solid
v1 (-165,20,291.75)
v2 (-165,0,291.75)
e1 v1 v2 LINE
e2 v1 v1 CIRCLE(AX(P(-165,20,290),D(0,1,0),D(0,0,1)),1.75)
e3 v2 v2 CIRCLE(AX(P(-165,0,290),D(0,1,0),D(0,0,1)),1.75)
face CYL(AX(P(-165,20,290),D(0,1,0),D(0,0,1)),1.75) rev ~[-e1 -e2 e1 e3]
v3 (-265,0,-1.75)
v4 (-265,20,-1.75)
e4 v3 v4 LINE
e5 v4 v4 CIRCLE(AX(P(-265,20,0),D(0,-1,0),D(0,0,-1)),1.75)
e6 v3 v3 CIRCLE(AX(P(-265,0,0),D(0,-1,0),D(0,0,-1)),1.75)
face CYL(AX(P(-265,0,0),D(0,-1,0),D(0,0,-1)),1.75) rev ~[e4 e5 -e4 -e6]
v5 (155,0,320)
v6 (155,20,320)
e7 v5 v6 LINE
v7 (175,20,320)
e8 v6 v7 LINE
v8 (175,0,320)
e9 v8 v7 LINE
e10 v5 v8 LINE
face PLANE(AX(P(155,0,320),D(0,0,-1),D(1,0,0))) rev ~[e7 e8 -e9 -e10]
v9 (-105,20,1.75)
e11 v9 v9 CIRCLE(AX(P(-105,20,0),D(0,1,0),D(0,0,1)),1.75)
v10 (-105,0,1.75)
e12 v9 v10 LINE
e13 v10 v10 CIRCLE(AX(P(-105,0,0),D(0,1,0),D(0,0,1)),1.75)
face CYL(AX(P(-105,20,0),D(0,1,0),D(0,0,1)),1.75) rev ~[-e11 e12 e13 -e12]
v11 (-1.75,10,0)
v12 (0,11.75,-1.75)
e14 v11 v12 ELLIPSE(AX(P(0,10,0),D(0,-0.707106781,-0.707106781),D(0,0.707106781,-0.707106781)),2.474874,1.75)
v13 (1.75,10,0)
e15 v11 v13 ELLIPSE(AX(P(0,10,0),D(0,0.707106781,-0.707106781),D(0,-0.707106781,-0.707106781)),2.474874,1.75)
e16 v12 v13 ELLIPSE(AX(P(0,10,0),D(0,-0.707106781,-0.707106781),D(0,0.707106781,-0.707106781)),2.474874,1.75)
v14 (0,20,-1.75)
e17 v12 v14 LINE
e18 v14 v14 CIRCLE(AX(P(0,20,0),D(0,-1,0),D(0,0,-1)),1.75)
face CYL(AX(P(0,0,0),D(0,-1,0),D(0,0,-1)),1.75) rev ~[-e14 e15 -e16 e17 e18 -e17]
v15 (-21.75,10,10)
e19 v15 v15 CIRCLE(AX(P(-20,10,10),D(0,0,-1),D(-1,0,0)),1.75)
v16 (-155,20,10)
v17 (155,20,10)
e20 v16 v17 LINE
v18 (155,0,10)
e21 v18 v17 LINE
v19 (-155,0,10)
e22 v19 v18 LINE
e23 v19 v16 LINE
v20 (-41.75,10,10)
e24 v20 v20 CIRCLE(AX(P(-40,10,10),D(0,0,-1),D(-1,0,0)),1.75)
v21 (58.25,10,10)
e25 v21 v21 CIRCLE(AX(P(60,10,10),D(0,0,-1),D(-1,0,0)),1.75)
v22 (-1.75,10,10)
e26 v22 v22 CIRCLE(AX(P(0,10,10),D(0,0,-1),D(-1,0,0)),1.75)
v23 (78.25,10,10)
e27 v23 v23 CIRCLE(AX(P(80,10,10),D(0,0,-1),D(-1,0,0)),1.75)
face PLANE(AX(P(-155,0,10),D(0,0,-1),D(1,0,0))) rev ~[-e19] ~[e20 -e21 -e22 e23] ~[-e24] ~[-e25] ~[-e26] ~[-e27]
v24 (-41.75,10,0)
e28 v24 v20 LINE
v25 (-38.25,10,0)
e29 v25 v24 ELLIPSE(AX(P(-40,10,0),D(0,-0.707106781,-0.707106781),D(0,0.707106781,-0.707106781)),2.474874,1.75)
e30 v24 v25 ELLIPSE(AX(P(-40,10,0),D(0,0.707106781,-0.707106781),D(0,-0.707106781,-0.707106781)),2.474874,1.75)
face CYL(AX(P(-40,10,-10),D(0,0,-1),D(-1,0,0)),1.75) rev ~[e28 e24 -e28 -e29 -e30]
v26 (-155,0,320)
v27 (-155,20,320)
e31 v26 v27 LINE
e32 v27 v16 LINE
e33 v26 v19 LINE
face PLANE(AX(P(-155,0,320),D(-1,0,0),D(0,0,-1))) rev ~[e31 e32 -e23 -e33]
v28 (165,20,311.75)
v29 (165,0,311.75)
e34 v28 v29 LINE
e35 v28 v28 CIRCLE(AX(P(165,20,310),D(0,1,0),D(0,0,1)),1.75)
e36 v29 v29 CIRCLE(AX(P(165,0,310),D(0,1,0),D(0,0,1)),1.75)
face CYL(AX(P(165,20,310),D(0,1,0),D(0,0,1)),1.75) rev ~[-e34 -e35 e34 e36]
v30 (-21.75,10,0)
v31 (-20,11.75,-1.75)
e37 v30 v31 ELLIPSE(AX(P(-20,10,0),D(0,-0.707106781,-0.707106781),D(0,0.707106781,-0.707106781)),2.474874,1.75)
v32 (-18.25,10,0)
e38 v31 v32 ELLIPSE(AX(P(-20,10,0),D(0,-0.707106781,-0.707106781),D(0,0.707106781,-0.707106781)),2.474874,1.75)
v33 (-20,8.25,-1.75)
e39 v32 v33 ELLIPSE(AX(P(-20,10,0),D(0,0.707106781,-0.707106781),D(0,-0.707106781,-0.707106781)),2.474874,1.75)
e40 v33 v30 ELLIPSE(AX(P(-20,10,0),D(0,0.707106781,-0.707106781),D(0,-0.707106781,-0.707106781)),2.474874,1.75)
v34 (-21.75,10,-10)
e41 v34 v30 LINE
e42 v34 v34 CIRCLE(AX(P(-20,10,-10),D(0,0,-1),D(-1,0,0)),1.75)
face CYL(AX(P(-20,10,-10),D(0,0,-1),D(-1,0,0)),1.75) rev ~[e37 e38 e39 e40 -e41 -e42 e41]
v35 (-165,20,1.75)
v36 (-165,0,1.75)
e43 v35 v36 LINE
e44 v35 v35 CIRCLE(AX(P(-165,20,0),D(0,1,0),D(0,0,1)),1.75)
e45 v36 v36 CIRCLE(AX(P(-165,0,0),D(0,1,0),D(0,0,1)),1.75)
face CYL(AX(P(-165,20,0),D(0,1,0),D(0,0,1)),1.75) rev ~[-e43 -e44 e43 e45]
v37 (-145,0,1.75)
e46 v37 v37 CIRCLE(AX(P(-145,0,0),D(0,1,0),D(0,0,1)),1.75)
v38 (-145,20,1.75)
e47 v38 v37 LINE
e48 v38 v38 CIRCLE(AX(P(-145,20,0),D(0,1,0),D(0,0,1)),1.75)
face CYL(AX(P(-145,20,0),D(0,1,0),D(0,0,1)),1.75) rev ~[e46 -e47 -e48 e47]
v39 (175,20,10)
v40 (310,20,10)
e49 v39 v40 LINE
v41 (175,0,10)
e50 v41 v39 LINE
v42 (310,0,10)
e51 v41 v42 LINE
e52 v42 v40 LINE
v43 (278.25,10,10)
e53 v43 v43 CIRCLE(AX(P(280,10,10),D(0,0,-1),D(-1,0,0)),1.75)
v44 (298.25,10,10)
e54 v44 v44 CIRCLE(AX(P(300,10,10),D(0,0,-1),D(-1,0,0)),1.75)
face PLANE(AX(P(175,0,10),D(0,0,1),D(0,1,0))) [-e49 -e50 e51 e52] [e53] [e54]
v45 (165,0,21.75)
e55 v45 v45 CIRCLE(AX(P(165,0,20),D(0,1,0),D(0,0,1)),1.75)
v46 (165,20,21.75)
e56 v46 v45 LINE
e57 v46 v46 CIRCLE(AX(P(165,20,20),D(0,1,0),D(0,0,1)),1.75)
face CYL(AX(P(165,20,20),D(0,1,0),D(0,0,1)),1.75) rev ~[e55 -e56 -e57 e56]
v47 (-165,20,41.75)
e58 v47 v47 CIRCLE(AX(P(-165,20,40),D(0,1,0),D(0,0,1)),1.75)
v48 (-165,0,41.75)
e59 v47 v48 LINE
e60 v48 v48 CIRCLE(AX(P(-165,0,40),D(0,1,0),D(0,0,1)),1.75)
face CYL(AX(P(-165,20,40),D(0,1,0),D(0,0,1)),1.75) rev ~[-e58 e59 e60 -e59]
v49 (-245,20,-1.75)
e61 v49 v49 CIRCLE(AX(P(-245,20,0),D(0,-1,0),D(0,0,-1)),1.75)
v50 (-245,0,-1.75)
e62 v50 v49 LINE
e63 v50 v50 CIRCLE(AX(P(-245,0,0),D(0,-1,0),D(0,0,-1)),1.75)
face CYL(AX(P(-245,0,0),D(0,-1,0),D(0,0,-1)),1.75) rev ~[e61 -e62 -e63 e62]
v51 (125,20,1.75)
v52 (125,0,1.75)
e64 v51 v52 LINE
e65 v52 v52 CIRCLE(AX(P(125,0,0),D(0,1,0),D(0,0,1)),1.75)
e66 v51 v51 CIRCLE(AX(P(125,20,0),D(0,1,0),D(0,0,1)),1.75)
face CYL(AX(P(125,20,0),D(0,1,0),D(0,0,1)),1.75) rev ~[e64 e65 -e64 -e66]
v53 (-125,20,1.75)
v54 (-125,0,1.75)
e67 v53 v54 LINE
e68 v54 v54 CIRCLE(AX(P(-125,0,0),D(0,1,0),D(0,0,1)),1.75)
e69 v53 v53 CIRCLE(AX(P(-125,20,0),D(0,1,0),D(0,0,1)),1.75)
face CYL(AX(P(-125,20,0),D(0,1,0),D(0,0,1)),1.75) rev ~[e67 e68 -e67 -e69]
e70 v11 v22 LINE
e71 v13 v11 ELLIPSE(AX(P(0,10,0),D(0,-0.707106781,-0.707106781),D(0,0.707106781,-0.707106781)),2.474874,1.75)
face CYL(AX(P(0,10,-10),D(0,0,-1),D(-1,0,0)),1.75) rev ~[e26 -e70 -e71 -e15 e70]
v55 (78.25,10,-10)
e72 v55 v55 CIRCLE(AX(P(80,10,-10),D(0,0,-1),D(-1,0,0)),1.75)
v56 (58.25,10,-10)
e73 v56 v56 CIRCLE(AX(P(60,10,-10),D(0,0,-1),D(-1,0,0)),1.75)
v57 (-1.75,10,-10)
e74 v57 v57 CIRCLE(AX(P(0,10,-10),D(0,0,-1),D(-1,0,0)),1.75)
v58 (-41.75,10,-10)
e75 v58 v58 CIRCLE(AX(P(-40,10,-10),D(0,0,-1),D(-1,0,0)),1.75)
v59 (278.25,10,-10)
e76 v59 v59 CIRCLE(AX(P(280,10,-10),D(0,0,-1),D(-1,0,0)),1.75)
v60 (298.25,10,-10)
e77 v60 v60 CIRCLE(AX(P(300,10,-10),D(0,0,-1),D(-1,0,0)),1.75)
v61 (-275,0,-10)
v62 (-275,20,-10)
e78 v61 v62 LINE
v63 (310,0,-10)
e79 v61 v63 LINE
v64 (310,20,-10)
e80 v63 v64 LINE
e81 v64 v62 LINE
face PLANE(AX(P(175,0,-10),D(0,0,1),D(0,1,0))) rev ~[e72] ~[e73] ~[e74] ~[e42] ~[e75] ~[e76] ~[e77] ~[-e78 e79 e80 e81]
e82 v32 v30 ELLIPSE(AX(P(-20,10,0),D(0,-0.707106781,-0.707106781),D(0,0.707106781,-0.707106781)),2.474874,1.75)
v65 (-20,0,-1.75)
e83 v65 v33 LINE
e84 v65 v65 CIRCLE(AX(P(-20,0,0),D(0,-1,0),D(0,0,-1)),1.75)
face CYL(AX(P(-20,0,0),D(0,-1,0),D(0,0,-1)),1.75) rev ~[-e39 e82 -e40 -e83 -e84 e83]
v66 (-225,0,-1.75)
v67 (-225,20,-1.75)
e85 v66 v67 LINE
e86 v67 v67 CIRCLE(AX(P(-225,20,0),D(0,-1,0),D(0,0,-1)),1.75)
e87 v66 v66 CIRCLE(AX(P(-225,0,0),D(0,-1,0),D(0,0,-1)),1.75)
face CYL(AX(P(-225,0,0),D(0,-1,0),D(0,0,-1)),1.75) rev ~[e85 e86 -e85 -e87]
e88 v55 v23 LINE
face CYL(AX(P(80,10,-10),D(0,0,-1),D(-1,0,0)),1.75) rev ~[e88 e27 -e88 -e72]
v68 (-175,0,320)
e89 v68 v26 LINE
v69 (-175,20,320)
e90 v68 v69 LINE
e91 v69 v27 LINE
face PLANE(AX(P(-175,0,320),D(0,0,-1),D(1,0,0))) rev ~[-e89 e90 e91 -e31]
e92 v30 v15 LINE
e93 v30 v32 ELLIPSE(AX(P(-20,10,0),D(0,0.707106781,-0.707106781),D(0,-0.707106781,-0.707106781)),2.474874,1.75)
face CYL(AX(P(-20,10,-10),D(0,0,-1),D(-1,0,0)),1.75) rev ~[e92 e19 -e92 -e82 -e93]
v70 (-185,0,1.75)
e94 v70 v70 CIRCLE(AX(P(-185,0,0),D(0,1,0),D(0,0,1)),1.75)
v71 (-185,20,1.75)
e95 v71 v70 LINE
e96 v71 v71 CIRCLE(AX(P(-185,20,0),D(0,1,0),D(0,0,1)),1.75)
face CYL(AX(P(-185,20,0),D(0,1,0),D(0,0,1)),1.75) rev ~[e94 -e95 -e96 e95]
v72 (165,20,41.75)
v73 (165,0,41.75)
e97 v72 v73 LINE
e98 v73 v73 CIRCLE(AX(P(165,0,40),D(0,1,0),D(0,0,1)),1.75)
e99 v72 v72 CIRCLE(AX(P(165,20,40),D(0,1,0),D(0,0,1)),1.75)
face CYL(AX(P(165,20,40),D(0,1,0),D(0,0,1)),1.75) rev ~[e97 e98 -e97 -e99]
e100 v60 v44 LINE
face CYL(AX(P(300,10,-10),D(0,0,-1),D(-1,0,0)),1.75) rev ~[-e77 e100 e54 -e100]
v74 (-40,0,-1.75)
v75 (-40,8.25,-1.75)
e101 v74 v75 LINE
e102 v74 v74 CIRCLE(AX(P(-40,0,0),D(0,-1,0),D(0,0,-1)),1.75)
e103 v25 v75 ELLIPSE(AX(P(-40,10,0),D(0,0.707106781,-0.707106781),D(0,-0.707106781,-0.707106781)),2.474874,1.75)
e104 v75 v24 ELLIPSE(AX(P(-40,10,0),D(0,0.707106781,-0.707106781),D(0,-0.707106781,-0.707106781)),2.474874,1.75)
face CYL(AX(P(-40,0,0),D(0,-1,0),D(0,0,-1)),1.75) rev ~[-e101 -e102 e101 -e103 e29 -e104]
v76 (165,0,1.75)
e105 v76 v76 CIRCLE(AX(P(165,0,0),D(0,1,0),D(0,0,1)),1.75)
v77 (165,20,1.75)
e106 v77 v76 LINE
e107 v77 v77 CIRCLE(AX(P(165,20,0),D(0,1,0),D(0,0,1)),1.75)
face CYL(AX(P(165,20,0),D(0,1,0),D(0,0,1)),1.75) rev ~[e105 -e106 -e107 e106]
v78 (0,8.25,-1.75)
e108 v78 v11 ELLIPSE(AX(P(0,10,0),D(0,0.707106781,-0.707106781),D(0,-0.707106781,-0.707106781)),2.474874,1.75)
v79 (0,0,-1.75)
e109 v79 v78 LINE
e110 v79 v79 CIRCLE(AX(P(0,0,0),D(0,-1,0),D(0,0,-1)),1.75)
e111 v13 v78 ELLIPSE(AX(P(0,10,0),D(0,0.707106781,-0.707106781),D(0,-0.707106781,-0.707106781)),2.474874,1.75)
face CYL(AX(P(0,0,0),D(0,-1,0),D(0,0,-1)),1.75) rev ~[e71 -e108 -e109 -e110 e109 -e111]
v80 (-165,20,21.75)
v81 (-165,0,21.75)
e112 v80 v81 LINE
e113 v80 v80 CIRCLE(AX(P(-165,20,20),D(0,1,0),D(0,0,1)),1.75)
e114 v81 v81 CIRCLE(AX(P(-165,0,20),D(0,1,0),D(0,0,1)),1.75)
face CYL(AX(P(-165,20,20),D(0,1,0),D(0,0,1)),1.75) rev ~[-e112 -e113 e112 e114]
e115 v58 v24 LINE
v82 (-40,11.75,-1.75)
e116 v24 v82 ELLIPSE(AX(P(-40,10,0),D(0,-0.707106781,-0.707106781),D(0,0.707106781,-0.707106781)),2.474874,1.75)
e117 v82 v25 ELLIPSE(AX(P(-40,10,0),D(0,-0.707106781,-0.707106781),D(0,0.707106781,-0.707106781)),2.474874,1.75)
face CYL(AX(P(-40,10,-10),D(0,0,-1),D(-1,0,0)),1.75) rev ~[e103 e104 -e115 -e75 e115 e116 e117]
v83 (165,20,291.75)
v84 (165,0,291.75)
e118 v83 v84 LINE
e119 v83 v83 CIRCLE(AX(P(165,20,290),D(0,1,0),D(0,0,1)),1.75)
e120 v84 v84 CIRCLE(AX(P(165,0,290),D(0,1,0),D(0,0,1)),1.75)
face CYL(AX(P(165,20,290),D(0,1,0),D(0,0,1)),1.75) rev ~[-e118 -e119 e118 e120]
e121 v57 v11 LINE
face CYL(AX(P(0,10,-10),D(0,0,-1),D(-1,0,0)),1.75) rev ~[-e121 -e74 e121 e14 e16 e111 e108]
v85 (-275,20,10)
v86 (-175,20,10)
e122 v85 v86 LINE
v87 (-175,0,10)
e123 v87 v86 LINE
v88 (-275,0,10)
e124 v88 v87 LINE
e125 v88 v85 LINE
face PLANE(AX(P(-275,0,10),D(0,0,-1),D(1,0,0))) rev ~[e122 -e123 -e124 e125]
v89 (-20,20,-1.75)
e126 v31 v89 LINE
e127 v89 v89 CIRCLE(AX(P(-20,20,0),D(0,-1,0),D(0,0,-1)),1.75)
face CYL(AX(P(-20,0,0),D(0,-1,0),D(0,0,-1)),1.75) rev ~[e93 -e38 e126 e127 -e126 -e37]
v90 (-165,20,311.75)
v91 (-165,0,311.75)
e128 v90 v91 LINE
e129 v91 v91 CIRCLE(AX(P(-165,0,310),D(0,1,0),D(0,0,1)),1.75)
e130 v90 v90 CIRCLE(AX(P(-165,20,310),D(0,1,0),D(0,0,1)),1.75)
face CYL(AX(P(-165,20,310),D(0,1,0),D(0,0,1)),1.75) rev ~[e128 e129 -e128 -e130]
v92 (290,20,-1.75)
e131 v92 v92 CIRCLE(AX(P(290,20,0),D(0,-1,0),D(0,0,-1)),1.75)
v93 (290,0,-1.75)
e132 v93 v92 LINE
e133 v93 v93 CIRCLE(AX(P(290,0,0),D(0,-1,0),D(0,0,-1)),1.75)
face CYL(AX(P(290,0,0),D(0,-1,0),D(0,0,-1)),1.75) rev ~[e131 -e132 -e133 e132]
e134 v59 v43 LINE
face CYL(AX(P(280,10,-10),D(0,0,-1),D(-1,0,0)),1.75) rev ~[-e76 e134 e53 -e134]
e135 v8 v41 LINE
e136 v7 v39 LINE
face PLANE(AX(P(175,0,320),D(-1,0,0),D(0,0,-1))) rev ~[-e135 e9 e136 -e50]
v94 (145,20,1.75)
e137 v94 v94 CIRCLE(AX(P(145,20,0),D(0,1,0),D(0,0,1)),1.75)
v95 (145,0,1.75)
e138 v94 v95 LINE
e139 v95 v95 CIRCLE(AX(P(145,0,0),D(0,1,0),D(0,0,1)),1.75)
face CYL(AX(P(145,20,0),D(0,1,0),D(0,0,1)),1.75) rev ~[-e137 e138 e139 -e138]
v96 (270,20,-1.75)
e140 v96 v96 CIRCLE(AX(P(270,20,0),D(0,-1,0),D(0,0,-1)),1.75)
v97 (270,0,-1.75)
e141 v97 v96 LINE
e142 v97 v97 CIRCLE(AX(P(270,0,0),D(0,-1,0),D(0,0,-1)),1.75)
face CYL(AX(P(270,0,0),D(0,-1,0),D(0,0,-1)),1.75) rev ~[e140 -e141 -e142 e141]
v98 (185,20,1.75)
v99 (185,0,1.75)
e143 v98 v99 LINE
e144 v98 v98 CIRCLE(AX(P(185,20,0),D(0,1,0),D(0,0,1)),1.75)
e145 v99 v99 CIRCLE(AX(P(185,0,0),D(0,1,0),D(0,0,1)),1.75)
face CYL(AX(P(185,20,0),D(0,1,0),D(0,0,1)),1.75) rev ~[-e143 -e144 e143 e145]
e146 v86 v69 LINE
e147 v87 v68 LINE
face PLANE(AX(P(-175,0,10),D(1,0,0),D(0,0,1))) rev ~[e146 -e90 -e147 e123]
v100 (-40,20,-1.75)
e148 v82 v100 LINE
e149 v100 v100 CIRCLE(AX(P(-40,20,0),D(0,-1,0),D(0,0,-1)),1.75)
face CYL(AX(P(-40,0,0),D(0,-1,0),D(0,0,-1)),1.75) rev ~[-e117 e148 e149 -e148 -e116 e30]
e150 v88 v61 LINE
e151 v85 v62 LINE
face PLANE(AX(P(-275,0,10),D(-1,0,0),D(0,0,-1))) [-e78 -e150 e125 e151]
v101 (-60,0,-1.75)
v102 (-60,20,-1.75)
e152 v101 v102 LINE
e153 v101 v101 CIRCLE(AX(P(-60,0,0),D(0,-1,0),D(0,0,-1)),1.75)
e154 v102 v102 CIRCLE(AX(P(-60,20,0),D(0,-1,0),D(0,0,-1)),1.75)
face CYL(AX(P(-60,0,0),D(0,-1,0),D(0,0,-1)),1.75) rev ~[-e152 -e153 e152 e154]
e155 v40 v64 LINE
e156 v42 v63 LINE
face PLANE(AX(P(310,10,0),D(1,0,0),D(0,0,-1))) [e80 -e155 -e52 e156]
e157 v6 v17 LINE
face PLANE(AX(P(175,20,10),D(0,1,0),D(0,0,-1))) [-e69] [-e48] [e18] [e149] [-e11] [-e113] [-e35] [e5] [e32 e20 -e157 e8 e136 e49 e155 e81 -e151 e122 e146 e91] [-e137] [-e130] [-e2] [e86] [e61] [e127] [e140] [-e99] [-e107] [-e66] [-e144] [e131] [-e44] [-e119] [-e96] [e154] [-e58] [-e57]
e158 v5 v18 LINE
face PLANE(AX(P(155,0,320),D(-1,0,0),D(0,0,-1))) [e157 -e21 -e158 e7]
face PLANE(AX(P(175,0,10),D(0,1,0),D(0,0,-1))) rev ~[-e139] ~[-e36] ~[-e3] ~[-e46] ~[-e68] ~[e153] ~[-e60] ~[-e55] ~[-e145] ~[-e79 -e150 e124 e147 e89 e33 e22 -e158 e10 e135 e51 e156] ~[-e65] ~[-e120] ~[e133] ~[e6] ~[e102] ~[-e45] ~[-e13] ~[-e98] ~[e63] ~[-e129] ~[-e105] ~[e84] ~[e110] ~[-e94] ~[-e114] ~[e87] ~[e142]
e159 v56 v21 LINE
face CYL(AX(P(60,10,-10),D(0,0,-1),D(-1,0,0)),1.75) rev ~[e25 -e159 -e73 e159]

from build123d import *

# Parameters (mm, degrees)
SKETCH_1_W          = 350
SKETCH_1_H          = 20
SKETCH_1_W_2        = 20
SKETCH_1_H_2        = 310
SKETCH_1_W_3        = 100
EXTRUDE_1_DEPTH     = 20
CUT_EXTRUDE_1_REACH = 424.404
SKETCH_2_R          = 1.75
SKETCH_3_W          = 20
SKETCH_3_H          = 20
EXTRUDE_2_DEPTH     = 135
SKETCH_4_R          = 1.75
CUT_EXTRUDE_2_DEPTH = 20
CUT_EXTRUDE_3_REACH = 455.211
SKETCH_5_R          = 1.75
CUT_EXTRUDE_4_REACH = 455.211
SKETCH_6_R          = 1.75
SKETCH_7_R          = 1.75
CUT_EXTRUDE_5_DEPTH = 20
SKETCH_8_R          = 1.75
CUT_EXTRUDE_6_DEPTH = 20


with BuildPart() as part:
    # 草图1 → 凸台-拉伸1 (new body)
    with BuildSketch(Plane(origin=(0, 0, 0), x_dir=(1, 0, 0), z_dir=(0, 1, 0))):
        Rectangle(SKETCH_1_W, SKETCH_1_H)
        with Locations((-165, -165)):
            Rectangle(SKETCH_1_W_2, SKETCH_1_H_2)
        with Locations((165, -165)):
            Rectangle(SKETCH_1_W_2, SKETCH_1_H_2)
        with Locations((-225, 0)):
            Rectangle(SKETCH_1_W_3, SKETCH_1_H)
    extrude(amount=EXTRUDE_1_DEPTH)

    # 草图2 → 切除-拉伸1 (cut, up to next)
    with BuildSketch(Plane(origin=(0, 20, 0), x_dir=(1, 0, 0), z_dir=(0, 1, 0)), mode=Mode.PRIVATE) as cut_extrude_1_sk1:
        with Locations(Location((-145, 0, 0), (0, 0, 270))):
            Circle(SKETCH_2_R)
    cut_extrude_1_tool1 = extrude(cut_extrude_1_sk1.sketch, amount=-CUT_EXTRUDE_1_REACH, mode=Mode.PRIVATE) & part.part
    # 草图2 → 切除-拉伸1 (cut, up to next)
    with BuildSketch(Plane(origin=(0, 20, 0), x_dir=(1, 0, 0), z_dir=(0, 1, 0)), mode=Mode.PRIVATE) as cut_extrude_1_sk2:
        with Locations(Location((-125, 0, 0), (0, 0, 270))):
            Circle(SKETCH_2_R)
    cut_extrude_1_tool2 = extrude(cut_extrude_1_sk2.sketch, amount=-CUT_EXTRUDE_1_REACH, mode=Mode.PRIVATE) & part.part
    # 草图2 → 切除-拉伸1 (cut, up to next)
    with BuildSketch(Plane(origin=(0, 20, 0), x_dir=(1, 0, 0), z_dir=(0, 1, 0)), mode=Mode.PRIVATE) as cut_extrude_1_sk3:
        with Locations(Location((-165, -310, 0), (0, 0, 270))):
            Circle(SKETCH_2_R)
    cut_extrude_1_tool3 = extrude(cut_extrude_1_sk3.sketch, amount=-CUT_EXTRUDE_1_REACH, mode=Mode.PRIVATE) & part.part
    # 草图2 → 切除-拉伸1 (cut, up to next)
    with BuildSketch(Plane(origin=(0, 20, 0), x_dir=(1, 0, 0), z_dir=(0, 1, 0)), mode=Mode.PRIVATE) as cut_extrude_1_sk4:
        with Locations(Location((125, 0, 0), (0, 0, 270))):
            Circle(SKETCH_2_R)
    cut_extrude_1_tool4 = extrude(cut_extrude_1_sk4.sketch, amount=-CUT_EXTRUDE_1_REACH, mode=Mode.PRIVATE) & part.part
    # 草图2 → 切除-拉伸1 (cut, up to next)
    with BuildSketch(Plane(origin=(0, 20, 0), x_dir=(1, 0, 0), z_dir=(0, 1, 0)), mode=Mode.PRIVATE) as cut_extrude_1_sk5:
        with Locations(Location((145, 0, 0), (0, 0, 270))):
            Circle(SKETCH_2_R)
    cut_extrude_1_tool5 = extrude(cut_extrude_1_sk5.sketch, amount=-CUT_EXTRUDE_1_REACH, mode=Mode.PRIVATE) & part.part
    # 草图2 → 切除-拉伸1 (cut, up to next)
    with BuildSketch(Plane(origin=(0, 20, 0), x_dir=(1, 0, 0), z_dir=(0, 1, 0)), mode=Mode.PRIVATE) as cut_extrude_1_sk6:
        with Locations(Location((165, 0, 0), (0, 0, 270))):
            Circle(SKETCH_2_R)
    cut_extrude_1_tool6 = extrude(cut_extrude_1_sk6.sketch, amount=-CUT_EXTRUDE_1_REACH, mode=Mode.PRIVATE) & part.part
    # 草图2 → 切除-拉伸1 (cut, up to next)
    with BuildSketch(Plane(origin=(0, 20, 0), x_dir=(1, 0, 0), z_dir=(0, 1, 0)), mode=Mode.PRIVATE) as cut_extrude_1_sk7:
        with Locations(Location((165, -20, 0), (0, 0, 270))):
            Circle(SKETCH_2_R)
    cut_extrude_1_tool7 = extrude(cut_extrude_1_sk7.sketch, amount=-CUT_EXTRUDE_1_REACH, mode=Mode.PRIVATE) & part.part
    # 草图2 → 切除-拉伸1 (cut, up to next)
    with BuildSketch(Plane(origin=(0, 20, 0), x_dir=(1, 0, 0), z_dir=(0, 1, 0)), mode=Mode.PRIVATE) as cut_extrude_1_sk8:
        with Locations(Location((165, -290, 0), (0, 0, 270))):
            Circle(SKETCH_2_R)
    cut_extrude_1_tool8 = extrude(cut_extrude_1_sk8.sketch, amount=-CUT_EXTRUDE_1_REACH, mode=Mode.PRIVATE) & part.part
    # 草图2 → 切除-拉伸1 (cut, up to next)
    with BuildSketch(Plane(origin=(0, 20, 0), x_dir=(1, 0, 0), z_dir=(0, 1, 0)), mode=Mode.PRIVATE) as cut_extrude_1_sk9:
        with Locations(Location((165, -310, 0), (0, 0, 270))):
            Circle(SKETCH_2_R)
    cut_extrude_1_tool9 = extrude(cut_extrude_1_sk9.sketch, amount=-CUT_EXTRUDE_1_REACH, mode=Mode.PRIVATE) & part.part
    # 草图2 → 切除-拉伸1 (cut, up to next)
    with BuildSketch(Plane(origin=(0, 20, 0), x_dir=(1, 0, 0), z_dir=(0, 1, 0)), mode=Mode.PRIVATE) as cut_extrude_1_sk10:
        with Locations(Location((-105, 0, 0), (0, 0, 270))):
            Circle(SKETCH_2_R)
    cut_extrude_1_tool10 = extrude(cut_extrude_1_sk10.sketch, amount=-CUT_EXTRUDE_1_REACH, mode=Mode.PRIVATE) & part.part
    # 草图2 → 切除-拉伸1 (cut, up to next)
    with BuildSketch(Plane(origin=(0, 20, 0), x_dir=(1, 0, 0), z_dir=(0, 1, 0)), mode=Mode.PRIVATE) as cut_extrude_1_sk11:
        with Locations(Location((-165, 0, 0), (0, 0, 270))):
            Circle(SKETCH_2_R)
    cut_extrude_1_tool11 = extrude(cut_extrude_1_sk11.sketch, amount=-CUT_EXTRUDE_1_REACH, mode=Mode.PRIVATE) & part.part
    # 草图2 → 切除-拉伸1 (cut, up to next)
    with BuildSketch(Plane(origin=(0, 20, 0), x_dir=(1, 0, 0), z_dir=(0, 1, 0)), mode=Mode.PRIVATE) as cut_extrude_1_sk12:
        with Locations(Location((-165, -20, 0), (0, 0, 270))):
            Circle(SKETCH_2_R)
    cut_extrude_1_tool12 = extrude(cut_extrude_1_sk12.sketch, amount=-CUT_EXTRUDE_1_REACH, mode=Mode.PRIVATE) & part.part
    # 草图2 → 切除-拉伸1 (cut, up to next)
    with BuildSketch(Plane(origin=(0, 20, 0), x_dir=(1, 0, 0), z_dir=(0, 1, 0)), mode=Mode.PRIVATE) as cut_extrude_1_sk13:
        with Locations(Location((-165, -290, 0), (0, 0, 270))):
            Circle(SKETCH_2_R)
    cut_extrude_1_tool13 = extrude(cut_extrude_1_sk13.sketch, amount=-CUT_EXTRUDE_1_REACH, mode=Mode.PRIVATE) & part.part
    # 草图2 → 切除-拉伸1 (cut, up to next)
    with BuildSketch(Plane(origin=(0, 20, 0), x_dir=(1, 0, 0), z_dir=(0, 1, 0)), mode=Mode.PRIVATE) as cut_extrude_1_sk14:
        with Locations(Location((-185, 0, 0), (0, 0, 270))):
            Circle(SKETCH_2_R)
    cut_extrude_1_tool14 = extrude(cut_extrude_1_sk14.sketch, amount=-CUT_EXTRUDE_1_REACH, mode=Mode.PRIVATE) & part.part
    # 草图2 → 切除-拉伸1 (cut, up to next)
    with BuildSketch(Plane(origin=(0, 20, 0), x_dir=(1, 0, 0), z_dir=(0, 1, 0)), mode=Mode.PRIVATE) as cut_extrude_1_sk15:
        with Locations(Location((-165, -40, 0), (0, 0, 270))):
            Circle(SKETCH_2_R)
    cut_extrude_1_tool15 = extrude(cut_extrude_1_sk15.sketch, amount=-CUT_EXTRUDE_1_REACH, mode=Mode.PRIVATE) & part.part
    add(cut_extrude_1_tool1.solids().sort_by_distance((-145, 20, 0))[0], mode=Mode.SUBTRACT)
    add(cut_extrude_1_tool2.solids().sort_by_distance((-125, 20, 0))[0], mode=Mode.SUBTRACT)
    add(cut_extrude_1_tool3.solids().sort_by_distance((-165, 20, 310))[0], mode=Mode.SUBTRACT)
    add(cut_extrude_1_tool4.solids().sort_by_distance((125, 20, 0))[0], mode=Mode.SUBTRACT)
    add(cut_extrude_1_tool5.solids().sort_by_distance((145, 20, 0))[0], mode=Mode.SUBTRACT)
    add(cut_extrude_1_tool6.solids().sort_by_distance((165, 20, 0))[0], mode=Mode.SUBTRACT)
    add(cut_extrude_1_tool7.solids().sort_by_distance((165, 20, 20))[0], mode=Mode.SUBTRACT)
    add(cut_extrude_1_tool8.solids().sort_by_distance((165, 20, 290))[0], mode=Mode.SUBTRACT)
    add(cut_extrude_1_tool9.solids().sort_by_distance((165, 20, 310))[0], mode=Mode.SUBTRACT)
    add(cut_extrude_1_tool10.solids().sort_by_distance((-105, 20, 0))[0], mode=Mode.SUBTRACT)
    add(cut_extrude_1_tool11.solids().sort_by_distance((-165, 20, 0))[0], mode=Mode.SUBTRACT)
    add(cut_extrude_1_tool12.solids().sort_by_distance((-165, 20, 20))[0], mode=Mode.SUBTRACT)
    add(cut_extrude_1_tool13.solids().sort_by_distance((-165, 20, 290))[0], mode=Mode.SUBTRACT)
    add(cut_extrude_1_tool14.solids().sort_by_distance((-185, 20, 0))[0], mode=Mode.SUBTRACT)
    add(cut_extrude_1_tool15.solids().sort_by_distance((-165, 20, 40))[0], mode=Mode.SUBTRACT)

    # 草图3 → 凸台-拉伸2 (add)
    with BuildSketch(Plane(origin=(175, 0, 0), x_dir=(0, 0, -1), z_dir=(1, 0, 0))):
        with Locations((0, 10)):
            Rectangle(SKETCH_3_W, SKETCH_3_H)
    extrude(amount=EXTRUDE_2_DEPTH)

    # 草图4 → 切除-拉伸2 (cut)
    with BuildSketch(Plane(origin=(0, 20, 0), x_dir=(1, 0, 0), z_dir=(0, 1, 0))):
        with Locations(Location((165, -40, 0), (0, 0, 270))):
            Circle(SKETCH_4_R)
        with Locations(Location((185, 0, 0), (0, 0, 270))):
            Circle(SKETCH_4_R)
    extrude(amount=-CUT_EXTRUDE_2_DEPTH, mode=Mode.SUBTRACT)

    # 草图5 → 切除-拉伸3 (cut, up to next)
    with BuildSketch(Plane(origin=(0, 0, -10), x_dir=(-1, 0, 0), z_dir=(0, 0, -1)), mode=Mode.PRIVATE) as cut_extrude_3_sk1:
        with Locations((40, 10)):
            Circle(SKETCH_5_R)
    cut_extrude_3_tool1 = extrude(cut_extrude_3_sk1.sketch, amount=-CUT_EXTRUDE_3_REACH, mode=Mode.PRIVATE) & part.part
    # 草图5 → 切除-拉伸3 (cut, up to next)
    with BuildSketch(Plane(origin=(0, 0, -10), x_dir=(-1, 0, 0), z_dir=(0, 0, -1)), mode=Mode.PRIVATE) as cut_extrude_3_sk2:
        with Locations((20, 10)):
            Circle(SKETCH_5_R)
    cut_extrude_3_tool2 = extrude(cut_extrude_3_sk2.sketch, amount=-CUT_EXTRUDE_3_REACH, mode=Mode.PRIVATE) & part.part
    # 草图5 → 切除-拉伸3 (cut, up to next)
    with BuildSketch(Plane(origin=(0, 0, -10), x_dir=(-1, 0, 0), z_dir=(0, 0, -1)), mode=Mode.PRIVATE) as cut_extrude_3_sk3:
        with Locations((0, 10)):
            Circle(SKETCH_5_R)
    cut_extrude_3_tool3 = extrude(cut_extrude_3_sk3.sketch, amount=-CUT_EXTRUDE_3_REACH, mode=Mode.PRIVATE) & part.part
    add(cut_extrude_3_tool1.solids().sort_by_distance((-40, 10, -10))[0], mode=Mode.SUBTRACT)
    add(cut_extrude_3_tool2.solids().sort_by_distance((-20, 10, -10))[0], mode=Mode.SUBTRACT)
    add(cut_extrude_3_tool3.solids().sort_by_distance((0, 10, -10))[0], mode=Mode.SUBTRACT)

    # 草图6 → 切除-拉伸4 (cut, up to next)
    with BuildSketch(Plane(origin=(0, 0, -10), x_dir=(-1, 0, 0), z_dir=(0, 0, -1)), mode=Mode.PRIVATE) as cut_extrude_4_sk1:
        with Locations((-300, 10)):
            Circle(SKETCH_6_R)
    cut_extrude_4_tool1 = extrude(cut_extrude_4_sk1.sketch, amount=-CUT_EXTRUDE_4_REACH, mode=Mode.PRIVATE) & part.part
    # 草图6 → 切除-拉伸4 (cut, up to next)
    with BuildSketch(Plane(origin=(0, 0, -10), x_dir=(-1, 0, 0), z_dir=(0, 0, -1)), mode=Mode.PRIVATE) as cut_extrude_4_sk2:
        with Locations((-280, 10)):
            Circle(SKETCH_6_R)
    cut_extrude_4_tool2 = extrude(cut_extrude_4_sk2.sketch, amount=-CUT_EXTRUDE_4_REACH, mode=Mode.PRIVATE) & part.part
    add(cut_extrude_4_tool1.solids().sort_by_distance((300, 10, -10))[0], mode=Mode.SUBTRACT)
    add(cut_extrude_4_tool2.solids().sort_by_distance((280, 10, -10))[0], mode=Mode.SUBTRACT)

    # 草图7 → 切除-拉伸5 (cut)
    with BuildSketch(Plane(origin=(0, 0, -10), x_dir=(-1, 0, 0), z_dir=(0, 0, -1))):
        with Locations((-80, 10)):
            Circle(SKETCH_7_R)
        with Locations((-60, 10)):
            Circle(SKETCH_7_R)
    extrude(amount=-CUT_EXTRUDE_5_DEPTH, mode=Mode.SUBTRACT)

    # 草图8 → 切除-拉伸6 (cut)
    with BuildSketch(Plane.XZ):
        with Locations(Location((-60, 0, 0), (0, 0, 270))):
            Circle(SKETCH_8_R)
        with Locations(Location((-40, 0, 0), (0, 0, 270))):
            Circle(SKETCH_8_R)
        with Locations(Location((-20, 0, 0), (0, 0, 270))):
            Circle(SKETCH_8_R)
        with Locations(Location((0, 0, 0), (0, 0, 270))):
            Circle(SKETCH_8_R)
        with Locations(Location((290, 0, 0), (0, 0, 270))):
            Circle(SKETCH_8_R)
        with Locations(Location((270, 0, 0), (0, 0, 270))):
            Circle(SKETCH_8_R)
        with Locations(Location((-265, 0, 0), (0, 0, 270))):
            Circle(SKETCH_8_R)
        with Locations(Location((-245, 0, 0), (0, 0, 270))):
            Circle(SKETCH_8_R)
        with Locations(Location((-225, 0, 0), (0, 0, 270))):
            Circle(SKETCH_8_R)
    extrude(amount=-CUT_EXTRUDE_6_DEPTH, mode=Mode.SUBTRACT)


solid = part.part
